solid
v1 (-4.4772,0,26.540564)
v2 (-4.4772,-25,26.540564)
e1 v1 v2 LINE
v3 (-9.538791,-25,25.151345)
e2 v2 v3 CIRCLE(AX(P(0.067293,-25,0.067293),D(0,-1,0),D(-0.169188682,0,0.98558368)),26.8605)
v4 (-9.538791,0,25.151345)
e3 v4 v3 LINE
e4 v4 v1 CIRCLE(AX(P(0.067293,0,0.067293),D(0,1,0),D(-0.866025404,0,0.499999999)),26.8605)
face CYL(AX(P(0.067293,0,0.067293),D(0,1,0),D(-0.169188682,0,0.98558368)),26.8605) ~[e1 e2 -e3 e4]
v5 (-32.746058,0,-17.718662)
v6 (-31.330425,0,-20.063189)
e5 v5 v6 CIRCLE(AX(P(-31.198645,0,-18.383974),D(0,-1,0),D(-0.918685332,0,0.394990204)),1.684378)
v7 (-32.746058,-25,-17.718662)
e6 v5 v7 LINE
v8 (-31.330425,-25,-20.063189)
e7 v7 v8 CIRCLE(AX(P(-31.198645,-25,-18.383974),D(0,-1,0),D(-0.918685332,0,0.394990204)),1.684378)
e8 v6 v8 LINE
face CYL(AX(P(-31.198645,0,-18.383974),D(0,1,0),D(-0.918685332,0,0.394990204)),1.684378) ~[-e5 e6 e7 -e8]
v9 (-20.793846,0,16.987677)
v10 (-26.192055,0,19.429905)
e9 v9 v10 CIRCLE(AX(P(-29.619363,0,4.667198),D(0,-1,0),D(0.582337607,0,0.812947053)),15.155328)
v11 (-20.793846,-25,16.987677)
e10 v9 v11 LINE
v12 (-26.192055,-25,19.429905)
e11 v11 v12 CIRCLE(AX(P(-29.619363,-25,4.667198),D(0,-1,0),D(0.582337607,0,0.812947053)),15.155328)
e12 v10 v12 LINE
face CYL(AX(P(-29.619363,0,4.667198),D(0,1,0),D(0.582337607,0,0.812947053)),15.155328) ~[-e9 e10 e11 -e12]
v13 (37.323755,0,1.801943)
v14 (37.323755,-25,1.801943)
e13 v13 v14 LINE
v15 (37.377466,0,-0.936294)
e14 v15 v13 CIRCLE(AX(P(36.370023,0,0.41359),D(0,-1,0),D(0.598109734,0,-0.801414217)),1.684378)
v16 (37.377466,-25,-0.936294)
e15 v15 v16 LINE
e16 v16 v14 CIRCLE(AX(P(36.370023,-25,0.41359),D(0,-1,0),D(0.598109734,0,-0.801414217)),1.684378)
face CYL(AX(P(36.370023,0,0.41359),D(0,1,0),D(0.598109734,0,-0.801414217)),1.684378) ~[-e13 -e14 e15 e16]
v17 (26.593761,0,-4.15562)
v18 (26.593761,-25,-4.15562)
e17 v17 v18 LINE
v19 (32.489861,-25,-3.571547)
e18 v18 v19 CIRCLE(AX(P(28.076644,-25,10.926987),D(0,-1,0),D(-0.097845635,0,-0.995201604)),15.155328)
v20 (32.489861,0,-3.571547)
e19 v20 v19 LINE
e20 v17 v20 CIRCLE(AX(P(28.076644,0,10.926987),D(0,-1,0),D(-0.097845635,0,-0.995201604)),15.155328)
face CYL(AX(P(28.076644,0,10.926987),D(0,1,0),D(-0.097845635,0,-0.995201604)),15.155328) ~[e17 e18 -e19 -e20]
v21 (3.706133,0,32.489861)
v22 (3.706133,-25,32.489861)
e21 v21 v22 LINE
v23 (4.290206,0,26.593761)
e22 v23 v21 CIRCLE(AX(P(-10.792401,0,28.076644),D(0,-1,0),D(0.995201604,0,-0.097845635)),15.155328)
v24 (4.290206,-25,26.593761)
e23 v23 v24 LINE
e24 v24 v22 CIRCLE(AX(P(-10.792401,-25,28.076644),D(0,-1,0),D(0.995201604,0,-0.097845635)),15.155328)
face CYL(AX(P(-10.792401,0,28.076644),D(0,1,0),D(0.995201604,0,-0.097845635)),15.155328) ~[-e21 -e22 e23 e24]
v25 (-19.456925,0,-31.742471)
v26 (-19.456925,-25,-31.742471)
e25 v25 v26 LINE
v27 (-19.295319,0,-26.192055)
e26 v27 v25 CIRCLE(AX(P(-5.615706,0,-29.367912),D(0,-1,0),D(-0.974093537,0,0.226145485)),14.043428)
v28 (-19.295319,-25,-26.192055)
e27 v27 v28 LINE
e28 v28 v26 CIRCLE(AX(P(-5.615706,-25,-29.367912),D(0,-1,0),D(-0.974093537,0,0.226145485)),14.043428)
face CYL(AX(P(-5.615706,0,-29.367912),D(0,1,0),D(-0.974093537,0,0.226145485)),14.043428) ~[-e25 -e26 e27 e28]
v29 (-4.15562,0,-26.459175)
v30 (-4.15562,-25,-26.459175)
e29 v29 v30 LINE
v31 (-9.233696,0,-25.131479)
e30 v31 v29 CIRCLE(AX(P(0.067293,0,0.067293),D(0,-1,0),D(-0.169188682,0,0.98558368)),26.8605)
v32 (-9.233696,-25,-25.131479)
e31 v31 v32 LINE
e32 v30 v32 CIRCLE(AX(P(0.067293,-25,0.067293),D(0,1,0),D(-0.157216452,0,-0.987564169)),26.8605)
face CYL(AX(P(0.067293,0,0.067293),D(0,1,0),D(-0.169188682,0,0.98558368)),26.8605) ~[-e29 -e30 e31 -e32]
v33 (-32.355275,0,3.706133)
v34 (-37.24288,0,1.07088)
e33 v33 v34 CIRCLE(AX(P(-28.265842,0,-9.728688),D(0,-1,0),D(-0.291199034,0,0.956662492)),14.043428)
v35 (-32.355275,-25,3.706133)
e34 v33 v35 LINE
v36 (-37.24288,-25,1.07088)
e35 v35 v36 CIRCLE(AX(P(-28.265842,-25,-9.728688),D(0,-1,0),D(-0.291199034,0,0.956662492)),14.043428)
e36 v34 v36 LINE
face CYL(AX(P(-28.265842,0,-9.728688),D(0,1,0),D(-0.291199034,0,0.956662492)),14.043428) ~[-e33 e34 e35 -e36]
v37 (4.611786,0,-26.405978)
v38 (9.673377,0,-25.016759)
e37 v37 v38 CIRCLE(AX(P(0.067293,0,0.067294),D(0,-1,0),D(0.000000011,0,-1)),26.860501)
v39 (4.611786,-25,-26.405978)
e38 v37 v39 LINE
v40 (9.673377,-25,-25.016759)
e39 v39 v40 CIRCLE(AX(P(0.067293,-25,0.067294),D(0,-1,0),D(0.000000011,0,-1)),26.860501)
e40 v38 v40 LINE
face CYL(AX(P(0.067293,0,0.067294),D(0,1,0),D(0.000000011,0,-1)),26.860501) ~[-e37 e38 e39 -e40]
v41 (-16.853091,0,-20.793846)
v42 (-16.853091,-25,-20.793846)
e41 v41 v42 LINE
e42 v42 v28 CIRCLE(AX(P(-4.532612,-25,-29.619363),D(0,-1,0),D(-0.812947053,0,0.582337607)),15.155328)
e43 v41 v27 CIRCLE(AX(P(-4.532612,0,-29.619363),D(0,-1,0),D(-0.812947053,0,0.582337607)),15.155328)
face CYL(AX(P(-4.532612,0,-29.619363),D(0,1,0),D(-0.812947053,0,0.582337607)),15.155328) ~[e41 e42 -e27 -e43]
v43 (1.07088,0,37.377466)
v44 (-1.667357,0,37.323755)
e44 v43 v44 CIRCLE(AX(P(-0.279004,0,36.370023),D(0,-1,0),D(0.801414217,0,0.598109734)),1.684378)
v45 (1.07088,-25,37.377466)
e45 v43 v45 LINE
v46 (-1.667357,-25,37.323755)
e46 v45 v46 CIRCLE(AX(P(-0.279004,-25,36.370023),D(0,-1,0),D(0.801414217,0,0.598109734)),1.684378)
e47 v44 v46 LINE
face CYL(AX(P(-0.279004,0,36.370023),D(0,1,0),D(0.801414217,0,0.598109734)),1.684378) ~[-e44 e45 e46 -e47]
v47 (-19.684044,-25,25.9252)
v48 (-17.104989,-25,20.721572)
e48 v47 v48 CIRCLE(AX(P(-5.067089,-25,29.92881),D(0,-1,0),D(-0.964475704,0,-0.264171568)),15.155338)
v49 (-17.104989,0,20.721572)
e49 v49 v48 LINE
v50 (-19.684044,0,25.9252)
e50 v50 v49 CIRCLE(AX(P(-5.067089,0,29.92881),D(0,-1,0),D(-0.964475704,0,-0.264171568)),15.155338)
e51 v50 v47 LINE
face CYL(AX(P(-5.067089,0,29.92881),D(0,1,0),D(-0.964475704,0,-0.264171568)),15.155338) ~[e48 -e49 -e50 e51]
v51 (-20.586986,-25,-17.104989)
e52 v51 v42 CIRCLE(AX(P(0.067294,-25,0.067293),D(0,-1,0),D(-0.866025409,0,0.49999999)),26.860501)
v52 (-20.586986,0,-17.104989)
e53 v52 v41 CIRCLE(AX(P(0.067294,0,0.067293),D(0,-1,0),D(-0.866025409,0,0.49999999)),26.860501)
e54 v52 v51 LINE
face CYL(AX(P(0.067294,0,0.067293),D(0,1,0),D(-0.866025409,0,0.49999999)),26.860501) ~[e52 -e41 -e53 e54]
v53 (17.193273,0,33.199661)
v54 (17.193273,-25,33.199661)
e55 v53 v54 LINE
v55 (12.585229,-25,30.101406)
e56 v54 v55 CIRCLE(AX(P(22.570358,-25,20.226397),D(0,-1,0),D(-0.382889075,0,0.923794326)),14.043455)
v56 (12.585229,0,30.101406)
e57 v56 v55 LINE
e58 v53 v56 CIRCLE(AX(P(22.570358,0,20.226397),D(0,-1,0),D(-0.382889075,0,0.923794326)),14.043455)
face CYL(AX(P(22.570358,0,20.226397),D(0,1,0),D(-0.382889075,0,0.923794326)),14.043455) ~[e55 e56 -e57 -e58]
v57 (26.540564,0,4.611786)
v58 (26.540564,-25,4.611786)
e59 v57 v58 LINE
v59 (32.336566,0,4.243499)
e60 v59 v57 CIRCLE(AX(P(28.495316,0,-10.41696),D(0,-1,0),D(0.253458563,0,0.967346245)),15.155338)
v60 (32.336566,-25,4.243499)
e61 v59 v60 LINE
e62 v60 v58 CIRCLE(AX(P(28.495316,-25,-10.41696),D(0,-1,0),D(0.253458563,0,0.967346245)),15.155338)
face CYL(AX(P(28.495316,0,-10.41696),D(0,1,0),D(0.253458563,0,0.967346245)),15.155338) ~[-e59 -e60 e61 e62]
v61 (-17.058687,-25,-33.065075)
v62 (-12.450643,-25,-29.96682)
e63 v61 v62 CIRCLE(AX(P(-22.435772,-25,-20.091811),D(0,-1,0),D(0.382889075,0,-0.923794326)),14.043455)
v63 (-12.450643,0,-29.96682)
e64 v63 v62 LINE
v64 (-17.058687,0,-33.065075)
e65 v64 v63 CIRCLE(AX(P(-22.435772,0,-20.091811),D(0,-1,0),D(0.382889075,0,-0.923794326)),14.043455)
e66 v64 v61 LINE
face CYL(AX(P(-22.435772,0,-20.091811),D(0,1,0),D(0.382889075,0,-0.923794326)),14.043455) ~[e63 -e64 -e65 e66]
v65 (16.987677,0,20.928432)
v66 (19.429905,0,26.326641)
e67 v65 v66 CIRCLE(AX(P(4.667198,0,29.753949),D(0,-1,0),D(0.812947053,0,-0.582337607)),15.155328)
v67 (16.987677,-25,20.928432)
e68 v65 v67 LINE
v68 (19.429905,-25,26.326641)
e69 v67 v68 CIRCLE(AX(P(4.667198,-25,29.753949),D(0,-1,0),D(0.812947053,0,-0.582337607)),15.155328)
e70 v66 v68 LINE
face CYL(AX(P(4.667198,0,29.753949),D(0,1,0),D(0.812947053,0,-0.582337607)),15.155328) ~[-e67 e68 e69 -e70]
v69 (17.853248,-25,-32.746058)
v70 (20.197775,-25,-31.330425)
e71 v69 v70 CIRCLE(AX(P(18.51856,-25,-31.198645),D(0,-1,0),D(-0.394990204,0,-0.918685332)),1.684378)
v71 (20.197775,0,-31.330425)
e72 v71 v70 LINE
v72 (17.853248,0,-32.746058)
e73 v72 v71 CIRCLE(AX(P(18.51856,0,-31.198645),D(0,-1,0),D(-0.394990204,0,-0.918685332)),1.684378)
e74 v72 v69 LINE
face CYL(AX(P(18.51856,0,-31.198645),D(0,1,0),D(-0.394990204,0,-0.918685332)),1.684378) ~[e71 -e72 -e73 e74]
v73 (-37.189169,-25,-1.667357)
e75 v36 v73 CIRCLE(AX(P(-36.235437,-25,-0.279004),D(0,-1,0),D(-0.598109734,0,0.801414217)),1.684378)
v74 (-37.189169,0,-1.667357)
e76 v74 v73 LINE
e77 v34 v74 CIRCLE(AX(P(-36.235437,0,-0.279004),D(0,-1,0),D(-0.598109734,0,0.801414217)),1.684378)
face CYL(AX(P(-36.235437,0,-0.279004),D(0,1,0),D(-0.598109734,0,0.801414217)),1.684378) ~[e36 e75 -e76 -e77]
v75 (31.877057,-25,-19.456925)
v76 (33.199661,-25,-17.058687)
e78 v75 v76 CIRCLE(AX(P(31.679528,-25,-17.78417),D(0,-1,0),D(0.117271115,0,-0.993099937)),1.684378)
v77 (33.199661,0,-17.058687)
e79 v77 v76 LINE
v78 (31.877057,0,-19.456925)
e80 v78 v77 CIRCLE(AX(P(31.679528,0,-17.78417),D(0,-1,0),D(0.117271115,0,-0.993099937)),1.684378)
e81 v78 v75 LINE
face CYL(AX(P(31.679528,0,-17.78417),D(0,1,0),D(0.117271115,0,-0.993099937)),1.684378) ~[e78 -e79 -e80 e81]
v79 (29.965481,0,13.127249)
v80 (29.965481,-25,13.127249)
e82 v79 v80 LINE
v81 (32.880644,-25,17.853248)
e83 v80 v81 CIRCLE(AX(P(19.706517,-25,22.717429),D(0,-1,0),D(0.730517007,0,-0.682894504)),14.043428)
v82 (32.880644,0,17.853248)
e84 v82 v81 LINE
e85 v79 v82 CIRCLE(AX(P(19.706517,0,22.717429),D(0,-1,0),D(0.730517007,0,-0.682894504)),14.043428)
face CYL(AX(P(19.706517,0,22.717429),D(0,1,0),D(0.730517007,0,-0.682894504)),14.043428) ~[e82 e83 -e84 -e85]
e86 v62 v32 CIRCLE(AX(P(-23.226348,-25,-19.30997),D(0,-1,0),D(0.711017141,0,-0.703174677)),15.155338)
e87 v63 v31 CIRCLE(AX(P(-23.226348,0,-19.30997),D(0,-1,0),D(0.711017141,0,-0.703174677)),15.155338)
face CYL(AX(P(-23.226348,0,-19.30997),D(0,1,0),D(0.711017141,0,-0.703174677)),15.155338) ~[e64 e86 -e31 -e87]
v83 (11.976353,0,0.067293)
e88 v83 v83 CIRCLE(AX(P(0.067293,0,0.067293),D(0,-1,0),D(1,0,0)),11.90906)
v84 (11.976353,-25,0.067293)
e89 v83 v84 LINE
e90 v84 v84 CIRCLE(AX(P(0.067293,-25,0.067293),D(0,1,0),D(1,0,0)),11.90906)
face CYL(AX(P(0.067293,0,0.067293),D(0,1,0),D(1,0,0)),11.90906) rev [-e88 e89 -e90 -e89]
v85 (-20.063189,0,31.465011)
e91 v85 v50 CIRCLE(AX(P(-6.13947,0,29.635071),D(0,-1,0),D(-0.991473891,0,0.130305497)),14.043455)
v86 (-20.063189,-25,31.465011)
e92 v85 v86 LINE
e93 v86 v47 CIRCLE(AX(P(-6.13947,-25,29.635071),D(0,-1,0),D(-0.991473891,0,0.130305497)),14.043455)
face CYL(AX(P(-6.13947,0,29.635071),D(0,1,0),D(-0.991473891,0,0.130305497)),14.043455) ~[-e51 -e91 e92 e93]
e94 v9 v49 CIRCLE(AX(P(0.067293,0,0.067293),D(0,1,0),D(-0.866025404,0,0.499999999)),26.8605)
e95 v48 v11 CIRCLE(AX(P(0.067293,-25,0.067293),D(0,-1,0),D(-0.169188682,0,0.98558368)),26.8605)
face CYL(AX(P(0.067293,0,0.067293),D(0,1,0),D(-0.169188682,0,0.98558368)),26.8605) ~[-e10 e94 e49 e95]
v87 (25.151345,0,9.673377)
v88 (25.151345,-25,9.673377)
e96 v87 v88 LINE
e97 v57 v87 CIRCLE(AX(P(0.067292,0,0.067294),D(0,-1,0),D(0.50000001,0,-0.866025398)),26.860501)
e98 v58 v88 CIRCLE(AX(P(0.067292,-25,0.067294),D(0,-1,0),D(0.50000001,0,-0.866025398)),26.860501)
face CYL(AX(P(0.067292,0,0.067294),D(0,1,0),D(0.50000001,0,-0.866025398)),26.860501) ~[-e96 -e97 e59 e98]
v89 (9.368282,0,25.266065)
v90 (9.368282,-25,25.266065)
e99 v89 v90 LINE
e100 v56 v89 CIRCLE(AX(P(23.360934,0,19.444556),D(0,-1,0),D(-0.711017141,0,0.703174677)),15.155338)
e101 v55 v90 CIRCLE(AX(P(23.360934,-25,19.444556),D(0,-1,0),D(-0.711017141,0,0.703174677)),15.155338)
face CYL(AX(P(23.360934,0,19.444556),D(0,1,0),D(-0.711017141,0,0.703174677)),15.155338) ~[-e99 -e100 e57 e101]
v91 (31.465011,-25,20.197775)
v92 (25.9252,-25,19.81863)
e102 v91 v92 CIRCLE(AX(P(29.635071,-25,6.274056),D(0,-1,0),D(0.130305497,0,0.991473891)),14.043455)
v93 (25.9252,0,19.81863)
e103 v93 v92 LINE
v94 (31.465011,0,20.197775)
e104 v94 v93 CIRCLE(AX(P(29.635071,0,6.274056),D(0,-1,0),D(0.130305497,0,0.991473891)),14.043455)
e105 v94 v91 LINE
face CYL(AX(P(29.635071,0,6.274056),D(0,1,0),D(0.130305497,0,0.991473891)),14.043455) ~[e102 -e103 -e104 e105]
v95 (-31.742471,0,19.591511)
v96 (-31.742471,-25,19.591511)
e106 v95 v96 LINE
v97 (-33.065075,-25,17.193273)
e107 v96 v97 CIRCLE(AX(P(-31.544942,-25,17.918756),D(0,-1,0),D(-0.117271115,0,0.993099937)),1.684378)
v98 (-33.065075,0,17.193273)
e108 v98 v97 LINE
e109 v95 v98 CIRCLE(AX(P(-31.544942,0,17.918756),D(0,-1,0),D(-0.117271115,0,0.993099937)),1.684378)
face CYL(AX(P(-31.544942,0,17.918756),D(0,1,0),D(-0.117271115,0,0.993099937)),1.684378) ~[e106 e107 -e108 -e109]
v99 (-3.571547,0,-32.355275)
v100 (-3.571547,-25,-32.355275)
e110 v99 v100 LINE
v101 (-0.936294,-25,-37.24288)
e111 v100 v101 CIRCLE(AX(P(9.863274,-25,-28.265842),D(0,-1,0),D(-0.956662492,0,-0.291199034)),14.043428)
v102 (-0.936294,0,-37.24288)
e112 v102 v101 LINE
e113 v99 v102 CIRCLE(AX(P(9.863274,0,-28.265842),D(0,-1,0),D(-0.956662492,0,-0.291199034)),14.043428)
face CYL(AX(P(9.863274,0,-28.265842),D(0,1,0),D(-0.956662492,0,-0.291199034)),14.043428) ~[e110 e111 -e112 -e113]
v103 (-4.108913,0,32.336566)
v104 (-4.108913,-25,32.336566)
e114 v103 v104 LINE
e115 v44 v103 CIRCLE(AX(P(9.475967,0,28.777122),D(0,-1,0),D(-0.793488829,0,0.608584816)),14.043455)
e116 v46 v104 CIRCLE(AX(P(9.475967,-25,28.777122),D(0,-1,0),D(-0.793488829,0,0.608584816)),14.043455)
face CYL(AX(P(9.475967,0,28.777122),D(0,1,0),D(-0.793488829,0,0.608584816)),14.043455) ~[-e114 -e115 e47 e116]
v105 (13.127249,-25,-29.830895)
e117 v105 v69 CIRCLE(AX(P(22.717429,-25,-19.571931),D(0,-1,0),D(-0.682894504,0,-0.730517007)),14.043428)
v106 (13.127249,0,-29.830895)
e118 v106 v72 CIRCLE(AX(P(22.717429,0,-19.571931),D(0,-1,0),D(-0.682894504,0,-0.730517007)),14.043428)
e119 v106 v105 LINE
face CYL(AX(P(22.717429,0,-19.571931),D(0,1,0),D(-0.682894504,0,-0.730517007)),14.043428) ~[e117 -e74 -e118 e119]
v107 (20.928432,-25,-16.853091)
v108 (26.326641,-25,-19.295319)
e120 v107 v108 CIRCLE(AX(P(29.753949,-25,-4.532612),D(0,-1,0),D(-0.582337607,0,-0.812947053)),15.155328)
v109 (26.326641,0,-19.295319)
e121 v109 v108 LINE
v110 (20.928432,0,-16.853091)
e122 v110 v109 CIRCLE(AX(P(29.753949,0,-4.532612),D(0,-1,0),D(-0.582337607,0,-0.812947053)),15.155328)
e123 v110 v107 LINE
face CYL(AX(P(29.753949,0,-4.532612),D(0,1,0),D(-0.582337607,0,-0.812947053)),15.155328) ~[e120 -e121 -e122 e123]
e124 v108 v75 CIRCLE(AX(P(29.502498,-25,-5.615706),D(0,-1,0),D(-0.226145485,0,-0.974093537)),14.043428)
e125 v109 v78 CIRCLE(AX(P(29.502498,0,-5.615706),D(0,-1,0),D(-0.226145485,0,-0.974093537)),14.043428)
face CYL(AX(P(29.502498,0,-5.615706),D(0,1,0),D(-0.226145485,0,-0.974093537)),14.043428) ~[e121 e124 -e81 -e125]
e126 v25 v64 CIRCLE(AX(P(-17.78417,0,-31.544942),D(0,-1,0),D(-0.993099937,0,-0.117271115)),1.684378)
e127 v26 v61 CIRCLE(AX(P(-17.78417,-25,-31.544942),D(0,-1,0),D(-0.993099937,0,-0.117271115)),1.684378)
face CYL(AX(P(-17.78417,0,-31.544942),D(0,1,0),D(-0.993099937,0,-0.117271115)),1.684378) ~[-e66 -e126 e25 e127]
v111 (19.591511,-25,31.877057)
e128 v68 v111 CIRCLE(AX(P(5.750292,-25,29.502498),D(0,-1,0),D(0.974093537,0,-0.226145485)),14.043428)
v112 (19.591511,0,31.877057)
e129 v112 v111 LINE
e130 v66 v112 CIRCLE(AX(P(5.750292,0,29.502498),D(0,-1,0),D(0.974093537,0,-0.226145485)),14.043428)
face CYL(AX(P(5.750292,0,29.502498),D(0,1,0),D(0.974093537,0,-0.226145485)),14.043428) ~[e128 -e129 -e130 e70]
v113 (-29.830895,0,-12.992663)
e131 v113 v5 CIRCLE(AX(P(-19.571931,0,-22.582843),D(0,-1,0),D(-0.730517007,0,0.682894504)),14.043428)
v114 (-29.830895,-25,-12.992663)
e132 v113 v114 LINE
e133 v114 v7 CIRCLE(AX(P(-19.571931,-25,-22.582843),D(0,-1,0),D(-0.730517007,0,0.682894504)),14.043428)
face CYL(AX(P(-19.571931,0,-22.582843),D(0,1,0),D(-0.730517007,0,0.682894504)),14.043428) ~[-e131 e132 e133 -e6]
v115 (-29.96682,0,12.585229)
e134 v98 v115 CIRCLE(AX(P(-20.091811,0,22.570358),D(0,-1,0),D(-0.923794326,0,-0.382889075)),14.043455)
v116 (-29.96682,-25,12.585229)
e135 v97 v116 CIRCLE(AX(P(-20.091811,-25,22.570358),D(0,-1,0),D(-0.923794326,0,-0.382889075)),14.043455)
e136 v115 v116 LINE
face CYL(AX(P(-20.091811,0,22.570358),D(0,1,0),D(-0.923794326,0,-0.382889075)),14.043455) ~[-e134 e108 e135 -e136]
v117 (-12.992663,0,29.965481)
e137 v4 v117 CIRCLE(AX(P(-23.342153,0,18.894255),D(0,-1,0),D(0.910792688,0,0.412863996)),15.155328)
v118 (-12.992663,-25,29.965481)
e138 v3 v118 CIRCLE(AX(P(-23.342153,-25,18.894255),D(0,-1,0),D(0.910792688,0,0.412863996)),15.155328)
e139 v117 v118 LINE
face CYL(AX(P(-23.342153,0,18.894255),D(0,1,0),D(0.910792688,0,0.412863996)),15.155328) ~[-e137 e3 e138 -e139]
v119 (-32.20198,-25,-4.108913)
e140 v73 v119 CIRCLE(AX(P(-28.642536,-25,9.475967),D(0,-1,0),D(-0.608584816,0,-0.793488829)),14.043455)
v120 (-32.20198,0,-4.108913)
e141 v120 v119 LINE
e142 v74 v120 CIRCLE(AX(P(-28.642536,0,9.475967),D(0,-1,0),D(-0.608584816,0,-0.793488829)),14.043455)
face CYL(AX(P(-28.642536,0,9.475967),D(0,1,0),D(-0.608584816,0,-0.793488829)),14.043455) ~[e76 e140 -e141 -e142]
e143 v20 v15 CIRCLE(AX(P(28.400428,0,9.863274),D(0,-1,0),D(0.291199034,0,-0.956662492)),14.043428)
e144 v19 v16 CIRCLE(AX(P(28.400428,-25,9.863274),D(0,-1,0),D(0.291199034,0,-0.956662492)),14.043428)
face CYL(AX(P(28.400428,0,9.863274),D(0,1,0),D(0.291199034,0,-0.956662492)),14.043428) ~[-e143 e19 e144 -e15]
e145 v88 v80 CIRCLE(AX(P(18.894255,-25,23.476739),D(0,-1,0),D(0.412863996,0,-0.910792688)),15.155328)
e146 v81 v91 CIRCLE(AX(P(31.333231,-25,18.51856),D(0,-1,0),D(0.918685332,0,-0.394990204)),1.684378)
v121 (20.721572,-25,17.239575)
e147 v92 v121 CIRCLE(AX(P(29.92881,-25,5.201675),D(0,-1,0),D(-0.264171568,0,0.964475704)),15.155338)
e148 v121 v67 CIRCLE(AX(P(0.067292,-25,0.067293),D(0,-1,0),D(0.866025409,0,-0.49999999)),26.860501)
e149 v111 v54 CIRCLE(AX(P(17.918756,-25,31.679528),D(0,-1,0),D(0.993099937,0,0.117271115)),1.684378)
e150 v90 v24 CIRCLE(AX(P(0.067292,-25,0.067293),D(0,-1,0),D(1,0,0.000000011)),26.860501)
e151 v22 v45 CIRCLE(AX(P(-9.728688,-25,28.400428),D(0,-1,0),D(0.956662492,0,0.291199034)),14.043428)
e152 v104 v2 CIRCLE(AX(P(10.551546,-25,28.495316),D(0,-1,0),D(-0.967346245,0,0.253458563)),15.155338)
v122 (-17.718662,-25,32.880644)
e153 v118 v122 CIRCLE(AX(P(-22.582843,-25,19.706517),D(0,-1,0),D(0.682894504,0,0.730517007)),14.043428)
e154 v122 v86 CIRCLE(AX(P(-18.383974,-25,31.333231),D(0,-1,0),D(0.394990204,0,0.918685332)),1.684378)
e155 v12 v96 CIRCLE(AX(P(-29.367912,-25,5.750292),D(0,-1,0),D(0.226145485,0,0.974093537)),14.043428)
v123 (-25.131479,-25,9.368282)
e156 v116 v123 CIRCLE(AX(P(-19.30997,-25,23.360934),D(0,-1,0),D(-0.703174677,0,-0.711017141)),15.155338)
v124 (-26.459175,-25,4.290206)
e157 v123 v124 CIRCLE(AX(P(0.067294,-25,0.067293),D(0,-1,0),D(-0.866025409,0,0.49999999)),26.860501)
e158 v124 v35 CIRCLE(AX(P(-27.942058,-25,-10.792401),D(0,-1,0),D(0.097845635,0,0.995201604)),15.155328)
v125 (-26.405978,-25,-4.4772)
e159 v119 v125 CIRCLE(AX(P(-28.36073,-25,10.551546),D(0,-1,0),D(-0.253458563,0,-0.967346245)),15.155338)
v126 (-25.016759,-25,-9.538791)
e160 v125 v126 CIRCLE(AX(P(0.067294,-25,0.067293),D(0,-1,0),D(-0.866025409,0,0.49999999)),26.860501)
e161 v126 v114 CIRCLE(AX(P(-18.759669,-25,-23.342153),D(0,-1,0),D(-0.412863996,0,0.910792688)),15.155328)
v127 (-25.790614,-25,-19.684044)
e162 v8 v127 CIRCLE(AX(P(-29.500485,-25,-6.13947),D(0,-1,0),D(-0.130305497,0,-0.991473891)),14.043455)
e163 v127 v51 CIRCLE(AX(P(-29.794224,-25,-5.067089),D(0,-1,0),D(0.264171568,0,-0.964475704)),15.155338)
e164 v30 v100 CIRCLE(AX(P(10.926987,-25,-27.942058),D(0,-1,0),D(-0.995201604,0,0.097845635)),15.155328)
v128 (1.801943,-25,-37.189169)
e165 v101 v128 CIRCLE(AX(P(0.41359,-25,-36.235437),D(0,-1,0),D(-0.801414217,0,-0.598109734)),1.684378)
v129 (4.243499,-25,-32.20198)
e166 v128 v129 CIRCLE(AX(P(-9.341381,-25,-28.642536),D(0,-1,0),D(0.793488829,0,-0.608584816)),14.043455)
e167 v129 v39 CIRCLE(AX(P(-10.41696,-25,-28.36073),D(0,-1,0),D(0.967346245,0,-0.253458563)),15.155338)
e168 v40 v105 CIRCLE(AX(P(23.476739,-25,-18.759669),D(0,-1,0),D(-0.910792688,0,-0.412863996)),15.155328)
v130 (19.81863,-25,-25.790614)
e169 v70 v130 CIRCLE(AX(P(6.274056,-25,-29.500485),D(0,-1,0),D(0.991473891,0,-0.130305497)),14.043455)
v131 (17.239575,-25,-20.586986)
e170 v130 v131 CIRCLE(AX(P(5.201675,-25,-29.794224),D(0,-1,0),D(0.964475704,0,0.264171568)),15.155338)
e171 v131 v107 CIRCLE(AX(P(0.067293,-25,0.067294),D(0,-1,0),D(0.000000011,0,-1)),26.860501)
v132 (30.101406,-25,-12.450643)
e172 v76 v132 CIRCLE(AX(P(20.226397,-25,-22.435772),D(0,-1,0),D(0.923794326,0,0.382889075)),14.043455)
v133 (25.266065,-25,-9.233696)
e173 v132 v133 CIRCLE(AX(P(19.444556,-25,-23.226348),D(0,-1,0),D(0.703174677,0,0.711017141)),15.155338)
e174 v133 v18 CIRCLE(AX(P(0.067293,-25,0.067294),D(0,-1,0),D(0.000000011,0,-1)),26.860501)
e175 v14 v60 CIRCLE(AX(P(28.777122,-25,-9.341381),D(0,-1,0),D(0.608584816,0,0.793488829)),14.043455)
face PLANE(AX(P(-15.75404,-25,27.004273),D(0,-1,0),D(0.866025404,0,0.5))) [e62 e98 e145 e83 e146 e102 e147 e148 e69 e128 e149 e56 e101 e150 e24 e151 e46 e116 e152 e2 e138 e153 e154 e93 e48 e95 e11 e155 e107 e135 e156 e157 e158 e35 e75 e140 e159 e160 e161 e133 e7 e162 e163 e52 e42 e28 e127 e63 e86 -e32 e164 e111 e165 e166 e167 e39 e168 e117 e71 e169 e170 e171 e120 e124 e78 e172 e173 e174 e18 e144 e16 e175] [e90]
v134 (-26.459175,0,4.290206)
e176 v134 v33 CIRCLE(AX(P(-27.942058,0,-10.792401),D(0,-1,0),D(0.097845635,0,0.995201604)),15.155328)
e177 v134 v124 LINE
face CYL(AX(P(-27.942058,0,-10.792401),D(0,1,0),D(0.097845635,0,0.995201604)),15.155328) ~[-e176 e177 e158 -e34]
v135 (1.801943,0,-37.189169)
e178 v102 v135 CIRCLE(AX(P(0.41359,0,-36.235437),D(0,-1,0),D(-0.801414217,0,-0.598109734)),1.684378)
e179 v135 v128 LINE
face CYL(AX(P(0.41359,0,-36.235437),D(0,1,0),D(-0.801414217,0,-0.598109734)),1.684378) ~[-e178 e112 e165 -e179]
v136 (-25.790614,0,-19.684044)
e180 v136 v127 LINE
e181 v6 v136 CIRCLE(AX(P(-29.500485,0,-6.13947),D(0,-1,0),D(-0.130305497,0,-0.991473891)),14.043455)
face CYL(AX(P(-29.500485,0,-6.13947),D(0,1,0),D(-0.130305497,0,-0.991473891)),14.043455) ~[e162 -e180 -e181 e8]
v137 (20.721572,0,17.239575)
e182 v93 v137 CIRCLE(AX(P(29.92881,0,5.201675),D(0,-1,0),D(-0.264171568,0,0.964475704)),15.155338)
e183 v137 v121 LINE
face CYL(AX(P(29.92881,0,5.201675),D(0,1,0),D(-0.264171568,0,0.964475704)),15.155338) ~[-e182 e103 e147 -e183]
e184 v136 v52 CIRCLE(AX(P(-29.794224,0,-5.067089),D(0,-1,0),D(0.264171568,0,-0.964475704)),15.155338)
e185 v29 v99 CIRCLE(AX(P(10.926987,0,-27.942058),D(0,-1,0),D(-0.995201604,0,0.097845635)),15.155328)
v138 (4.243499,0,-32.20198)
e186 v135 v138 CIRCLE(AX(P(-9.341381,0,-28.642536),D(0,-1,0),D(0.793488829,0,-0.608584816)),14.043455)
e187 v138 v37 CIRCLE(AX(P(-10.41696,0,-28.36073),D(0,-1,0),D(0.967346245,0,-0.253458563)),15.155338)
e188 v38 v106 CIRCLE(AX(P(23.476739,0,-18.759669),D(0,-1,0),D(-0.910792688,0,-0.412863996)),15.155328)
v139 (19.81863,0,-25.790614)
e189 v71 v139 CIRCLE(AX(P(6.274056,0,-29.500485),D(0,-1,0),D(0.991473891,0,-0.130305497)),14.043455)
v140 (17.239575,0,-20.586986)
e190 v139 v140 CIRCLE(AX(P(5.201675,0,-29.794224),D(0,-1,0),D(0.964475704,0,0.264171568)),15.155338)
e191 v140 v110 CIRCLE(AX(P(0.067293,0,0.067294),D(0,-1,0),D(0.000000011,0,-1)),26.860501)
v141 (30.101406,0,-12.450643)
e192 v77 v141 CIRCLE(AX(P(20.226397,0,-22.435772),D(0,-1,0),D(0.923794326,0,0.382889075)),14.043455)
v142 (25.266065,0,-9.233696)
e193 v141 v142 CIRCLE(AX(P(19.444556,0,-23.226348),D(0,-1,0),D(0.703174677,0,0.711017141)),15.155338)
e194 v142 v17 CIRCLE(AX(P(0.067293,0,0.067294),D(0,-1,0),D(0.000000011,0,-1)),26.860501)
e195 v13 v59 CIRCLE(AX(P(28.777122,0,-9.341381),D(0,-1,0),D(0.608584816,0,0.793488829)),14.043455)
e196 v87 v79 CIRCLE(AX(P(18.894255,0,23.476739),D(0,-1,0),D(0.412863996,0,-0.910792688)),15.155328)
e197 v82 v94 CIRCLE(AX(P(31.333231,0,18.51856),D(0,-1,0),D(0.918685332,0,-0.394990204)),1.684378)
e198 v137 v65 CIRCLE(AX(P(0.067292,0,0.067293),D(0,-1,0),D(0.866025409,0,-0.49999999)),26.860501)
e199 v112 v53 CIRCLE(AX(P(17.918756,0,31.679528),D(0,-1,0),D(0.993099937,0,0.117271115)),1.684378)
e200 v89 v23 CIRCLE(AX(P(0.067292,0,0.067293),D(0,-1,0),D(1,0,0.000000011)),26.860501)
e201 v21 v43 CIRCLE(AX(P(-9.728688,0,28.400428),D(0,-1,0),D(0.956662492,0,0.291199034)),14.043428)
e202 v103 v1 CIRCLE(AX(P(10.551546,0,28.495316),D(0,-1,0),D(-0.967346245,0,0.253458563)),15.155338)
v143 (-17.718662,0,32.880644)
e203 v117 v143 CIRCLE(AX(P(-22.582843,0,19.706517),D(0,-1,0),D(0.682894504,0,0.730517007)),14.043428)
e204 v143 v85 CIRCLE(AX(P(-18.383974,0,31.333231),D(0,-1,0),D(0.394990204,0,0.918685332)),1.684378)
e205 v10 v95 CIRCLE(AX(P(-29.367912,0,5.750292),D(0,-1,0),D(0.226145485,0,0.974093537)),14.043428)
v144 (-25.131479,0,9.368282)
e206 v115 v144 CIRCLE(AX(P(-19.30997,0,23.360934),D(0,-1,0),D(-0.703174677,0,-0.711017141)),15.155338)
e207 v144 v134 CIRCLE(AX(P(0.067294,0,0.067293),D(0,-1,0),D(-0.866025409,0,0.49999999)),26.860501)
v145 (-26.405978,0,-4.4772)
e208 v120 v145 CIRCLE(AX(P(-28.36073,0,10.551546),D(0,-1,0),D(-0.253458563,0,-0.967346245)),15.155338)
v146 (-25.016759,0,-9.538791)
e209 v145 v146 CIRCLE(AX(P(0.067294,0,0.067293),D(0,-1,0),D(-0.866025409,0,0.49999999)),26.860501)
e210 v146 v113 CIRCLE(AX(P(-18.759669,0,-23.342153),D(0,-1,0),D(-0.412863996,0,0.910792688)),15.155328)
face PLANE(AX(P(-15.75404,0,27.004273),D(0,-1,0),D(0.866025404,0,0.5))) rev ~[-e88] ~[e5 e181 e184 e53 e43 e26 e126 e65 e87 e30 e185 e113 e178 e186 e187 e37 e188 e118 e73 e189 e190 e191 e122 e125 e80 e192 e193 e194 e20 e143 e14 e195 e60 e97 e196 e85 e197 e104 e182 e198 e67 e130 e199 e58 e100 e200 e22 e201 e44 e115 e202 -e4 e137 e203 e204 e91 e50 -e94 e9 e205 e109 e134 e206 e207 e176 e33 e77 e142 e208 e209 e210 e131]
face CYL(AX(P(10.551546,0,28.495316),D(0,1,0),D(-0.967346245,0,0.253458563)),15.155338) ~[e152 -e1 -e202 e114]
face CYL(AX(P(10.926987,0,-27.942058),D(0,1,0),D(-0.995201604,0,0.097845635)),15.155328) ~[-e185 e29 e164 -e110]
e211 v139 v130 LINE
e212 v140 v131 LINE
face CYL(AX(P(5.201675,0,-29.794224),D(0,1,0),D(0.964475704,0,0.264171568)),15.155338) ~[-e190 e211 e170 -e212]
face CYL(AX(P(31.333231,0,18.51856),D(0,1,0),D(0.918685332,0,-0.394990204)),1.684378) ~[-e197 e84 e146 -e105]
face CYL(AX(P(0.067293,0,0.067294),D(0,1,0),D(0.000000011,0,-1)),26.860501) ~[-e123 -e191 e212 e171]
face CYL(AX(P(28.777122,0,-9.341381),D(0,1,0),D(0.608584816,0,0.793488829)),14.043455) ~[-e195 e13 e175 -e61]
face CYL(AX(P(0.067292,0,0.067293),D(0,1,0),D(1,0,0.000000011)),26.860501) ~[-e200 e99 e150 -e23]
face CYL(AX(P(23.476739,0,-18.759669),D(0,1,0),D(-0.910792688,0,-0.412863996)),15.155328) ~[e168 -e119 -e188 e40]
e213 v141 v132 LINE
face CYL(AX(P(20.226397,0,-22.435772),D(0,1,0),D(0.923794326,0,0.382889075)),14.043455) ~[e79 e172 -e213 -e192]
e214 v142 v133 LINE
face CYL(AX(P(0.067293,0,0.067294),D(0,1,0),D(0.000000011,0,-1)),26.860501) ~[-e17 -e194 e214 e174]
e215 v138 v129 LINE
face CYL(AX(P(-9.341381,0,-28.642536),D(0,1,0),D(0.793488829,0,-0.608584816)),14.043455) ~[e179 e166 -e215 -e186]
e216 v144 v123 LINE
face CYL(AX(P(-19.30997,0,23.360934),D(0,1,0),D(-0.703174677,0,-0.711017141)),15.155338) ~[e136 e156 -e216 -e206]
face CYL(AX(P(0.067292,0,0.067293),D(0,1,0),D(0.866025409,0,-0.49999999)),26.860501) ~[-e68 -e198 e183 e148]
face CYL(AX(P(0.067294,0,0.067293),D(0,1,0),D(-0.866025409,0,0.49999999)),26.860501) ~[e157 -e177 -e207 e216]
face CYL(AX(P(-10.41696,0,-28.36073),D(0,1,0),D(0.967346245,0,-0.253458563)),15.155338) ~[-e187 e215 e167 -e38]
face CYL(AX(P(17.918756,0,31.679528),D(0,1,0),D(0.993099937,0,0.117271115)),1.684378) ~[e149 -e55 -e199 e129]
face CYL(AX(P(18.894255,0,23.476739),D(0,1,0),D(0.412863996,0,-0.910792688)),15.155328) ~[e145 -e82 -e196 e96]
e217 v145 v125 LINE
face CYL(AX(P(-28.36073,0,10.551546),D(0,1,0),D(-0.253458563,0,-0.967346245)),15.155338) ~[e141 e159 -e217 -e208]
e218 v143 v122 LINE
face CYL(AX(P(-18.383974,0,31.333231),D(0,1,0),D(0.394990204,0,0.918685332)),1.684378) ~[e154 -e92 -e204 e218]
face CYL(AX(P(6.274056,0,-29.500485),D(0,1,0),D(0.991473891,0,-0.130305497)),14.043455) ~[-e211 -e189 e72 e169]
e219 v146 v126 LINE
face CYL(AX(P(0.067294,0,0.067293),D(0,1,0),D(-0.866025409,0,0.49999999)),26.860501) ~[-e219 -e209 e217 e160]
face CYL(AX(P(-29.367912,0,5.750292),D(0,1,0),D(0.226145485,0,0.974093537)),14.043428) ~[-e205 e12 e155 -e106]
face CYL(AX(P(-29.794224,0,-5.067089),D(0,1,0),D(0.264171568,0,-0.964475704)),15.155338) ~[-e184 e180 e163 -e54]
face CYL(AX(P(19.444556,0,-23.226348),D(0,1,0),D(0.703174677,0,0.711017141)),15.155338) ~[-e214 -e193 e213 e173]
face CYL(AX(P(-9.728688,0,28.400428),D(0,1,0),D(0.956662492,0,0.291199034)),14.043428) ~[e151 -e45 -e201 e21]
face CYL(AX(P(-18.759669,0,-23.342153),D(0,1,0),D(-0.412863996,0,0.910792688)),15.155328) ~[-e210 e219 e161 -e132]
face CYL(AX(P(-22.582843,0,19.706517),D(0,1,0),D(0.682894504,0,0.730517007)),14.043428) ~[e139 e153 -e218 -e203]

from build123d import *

# Parameters (mm, degrees)
F0_R     = 11.90906
F1_DEPTH = 25
F2_COUNT = 12


with BuildPart() as f1:
    # F0 (on Front) → F1 (new body)
    with BuildSketch(Plane.XZ):
        with BuildLine():
            ThreePointArc((-4.4772, 26.540564), (-0.095682, 26.927299), (4.290206, 26.593761))
            ThreePointArc((4.290206, 26.593761), (4.28911, 29.570632), (3.706133, 32.489861))
            ThreePointArc((3.706133, 32.489861), (2.632484, 35.065209), (1.07088, 37.377466))
            ThreePointArc((1.07088, 37.377466), (-0.312037, 38.054077), (-1.667357, 37.323755))
            ThreePointArc((-1.667357, 37.323755), (-3.137083, 34.952037), (-4.108913, 32.336566))
            ThreePointArc((-4.108913, 32.336566), (-4.573289, 29.456371), (-4.4772, 26.540564))
        make_face()
        with BuildLine():
            ThreePointArc((-4.4772, 26.540564), (-17.244829, -20.469915), (26.927793, 0.067293))
            ThreePointArc((26.927793, 0.067293), (20.499082, 17.503705), (4.290206, 26.593761))
            ThreePointArc((4.290206, 26.593761), (-0.095682, 26.927299), (-4.4772, 26.540564))
        make_face()
        with Locations((0.067293, 0.067293)):
            Circle(F0_R, mode=Mode.SUBTRACT)
    extrude(amount=F1_DEPTH)

    # F2: F1 ×12 about axis
    f2_axis = Axis((0.067293, 0, 0.067293), (0, 1, 0))


with BuildPart() as f1_1:
    add(f1.part)
    for i in range(1, F2_COUNT):
        add(f1.part.rotate(f2_axis, i * 360 / F2_COUNT))


solid = f1_1.part
